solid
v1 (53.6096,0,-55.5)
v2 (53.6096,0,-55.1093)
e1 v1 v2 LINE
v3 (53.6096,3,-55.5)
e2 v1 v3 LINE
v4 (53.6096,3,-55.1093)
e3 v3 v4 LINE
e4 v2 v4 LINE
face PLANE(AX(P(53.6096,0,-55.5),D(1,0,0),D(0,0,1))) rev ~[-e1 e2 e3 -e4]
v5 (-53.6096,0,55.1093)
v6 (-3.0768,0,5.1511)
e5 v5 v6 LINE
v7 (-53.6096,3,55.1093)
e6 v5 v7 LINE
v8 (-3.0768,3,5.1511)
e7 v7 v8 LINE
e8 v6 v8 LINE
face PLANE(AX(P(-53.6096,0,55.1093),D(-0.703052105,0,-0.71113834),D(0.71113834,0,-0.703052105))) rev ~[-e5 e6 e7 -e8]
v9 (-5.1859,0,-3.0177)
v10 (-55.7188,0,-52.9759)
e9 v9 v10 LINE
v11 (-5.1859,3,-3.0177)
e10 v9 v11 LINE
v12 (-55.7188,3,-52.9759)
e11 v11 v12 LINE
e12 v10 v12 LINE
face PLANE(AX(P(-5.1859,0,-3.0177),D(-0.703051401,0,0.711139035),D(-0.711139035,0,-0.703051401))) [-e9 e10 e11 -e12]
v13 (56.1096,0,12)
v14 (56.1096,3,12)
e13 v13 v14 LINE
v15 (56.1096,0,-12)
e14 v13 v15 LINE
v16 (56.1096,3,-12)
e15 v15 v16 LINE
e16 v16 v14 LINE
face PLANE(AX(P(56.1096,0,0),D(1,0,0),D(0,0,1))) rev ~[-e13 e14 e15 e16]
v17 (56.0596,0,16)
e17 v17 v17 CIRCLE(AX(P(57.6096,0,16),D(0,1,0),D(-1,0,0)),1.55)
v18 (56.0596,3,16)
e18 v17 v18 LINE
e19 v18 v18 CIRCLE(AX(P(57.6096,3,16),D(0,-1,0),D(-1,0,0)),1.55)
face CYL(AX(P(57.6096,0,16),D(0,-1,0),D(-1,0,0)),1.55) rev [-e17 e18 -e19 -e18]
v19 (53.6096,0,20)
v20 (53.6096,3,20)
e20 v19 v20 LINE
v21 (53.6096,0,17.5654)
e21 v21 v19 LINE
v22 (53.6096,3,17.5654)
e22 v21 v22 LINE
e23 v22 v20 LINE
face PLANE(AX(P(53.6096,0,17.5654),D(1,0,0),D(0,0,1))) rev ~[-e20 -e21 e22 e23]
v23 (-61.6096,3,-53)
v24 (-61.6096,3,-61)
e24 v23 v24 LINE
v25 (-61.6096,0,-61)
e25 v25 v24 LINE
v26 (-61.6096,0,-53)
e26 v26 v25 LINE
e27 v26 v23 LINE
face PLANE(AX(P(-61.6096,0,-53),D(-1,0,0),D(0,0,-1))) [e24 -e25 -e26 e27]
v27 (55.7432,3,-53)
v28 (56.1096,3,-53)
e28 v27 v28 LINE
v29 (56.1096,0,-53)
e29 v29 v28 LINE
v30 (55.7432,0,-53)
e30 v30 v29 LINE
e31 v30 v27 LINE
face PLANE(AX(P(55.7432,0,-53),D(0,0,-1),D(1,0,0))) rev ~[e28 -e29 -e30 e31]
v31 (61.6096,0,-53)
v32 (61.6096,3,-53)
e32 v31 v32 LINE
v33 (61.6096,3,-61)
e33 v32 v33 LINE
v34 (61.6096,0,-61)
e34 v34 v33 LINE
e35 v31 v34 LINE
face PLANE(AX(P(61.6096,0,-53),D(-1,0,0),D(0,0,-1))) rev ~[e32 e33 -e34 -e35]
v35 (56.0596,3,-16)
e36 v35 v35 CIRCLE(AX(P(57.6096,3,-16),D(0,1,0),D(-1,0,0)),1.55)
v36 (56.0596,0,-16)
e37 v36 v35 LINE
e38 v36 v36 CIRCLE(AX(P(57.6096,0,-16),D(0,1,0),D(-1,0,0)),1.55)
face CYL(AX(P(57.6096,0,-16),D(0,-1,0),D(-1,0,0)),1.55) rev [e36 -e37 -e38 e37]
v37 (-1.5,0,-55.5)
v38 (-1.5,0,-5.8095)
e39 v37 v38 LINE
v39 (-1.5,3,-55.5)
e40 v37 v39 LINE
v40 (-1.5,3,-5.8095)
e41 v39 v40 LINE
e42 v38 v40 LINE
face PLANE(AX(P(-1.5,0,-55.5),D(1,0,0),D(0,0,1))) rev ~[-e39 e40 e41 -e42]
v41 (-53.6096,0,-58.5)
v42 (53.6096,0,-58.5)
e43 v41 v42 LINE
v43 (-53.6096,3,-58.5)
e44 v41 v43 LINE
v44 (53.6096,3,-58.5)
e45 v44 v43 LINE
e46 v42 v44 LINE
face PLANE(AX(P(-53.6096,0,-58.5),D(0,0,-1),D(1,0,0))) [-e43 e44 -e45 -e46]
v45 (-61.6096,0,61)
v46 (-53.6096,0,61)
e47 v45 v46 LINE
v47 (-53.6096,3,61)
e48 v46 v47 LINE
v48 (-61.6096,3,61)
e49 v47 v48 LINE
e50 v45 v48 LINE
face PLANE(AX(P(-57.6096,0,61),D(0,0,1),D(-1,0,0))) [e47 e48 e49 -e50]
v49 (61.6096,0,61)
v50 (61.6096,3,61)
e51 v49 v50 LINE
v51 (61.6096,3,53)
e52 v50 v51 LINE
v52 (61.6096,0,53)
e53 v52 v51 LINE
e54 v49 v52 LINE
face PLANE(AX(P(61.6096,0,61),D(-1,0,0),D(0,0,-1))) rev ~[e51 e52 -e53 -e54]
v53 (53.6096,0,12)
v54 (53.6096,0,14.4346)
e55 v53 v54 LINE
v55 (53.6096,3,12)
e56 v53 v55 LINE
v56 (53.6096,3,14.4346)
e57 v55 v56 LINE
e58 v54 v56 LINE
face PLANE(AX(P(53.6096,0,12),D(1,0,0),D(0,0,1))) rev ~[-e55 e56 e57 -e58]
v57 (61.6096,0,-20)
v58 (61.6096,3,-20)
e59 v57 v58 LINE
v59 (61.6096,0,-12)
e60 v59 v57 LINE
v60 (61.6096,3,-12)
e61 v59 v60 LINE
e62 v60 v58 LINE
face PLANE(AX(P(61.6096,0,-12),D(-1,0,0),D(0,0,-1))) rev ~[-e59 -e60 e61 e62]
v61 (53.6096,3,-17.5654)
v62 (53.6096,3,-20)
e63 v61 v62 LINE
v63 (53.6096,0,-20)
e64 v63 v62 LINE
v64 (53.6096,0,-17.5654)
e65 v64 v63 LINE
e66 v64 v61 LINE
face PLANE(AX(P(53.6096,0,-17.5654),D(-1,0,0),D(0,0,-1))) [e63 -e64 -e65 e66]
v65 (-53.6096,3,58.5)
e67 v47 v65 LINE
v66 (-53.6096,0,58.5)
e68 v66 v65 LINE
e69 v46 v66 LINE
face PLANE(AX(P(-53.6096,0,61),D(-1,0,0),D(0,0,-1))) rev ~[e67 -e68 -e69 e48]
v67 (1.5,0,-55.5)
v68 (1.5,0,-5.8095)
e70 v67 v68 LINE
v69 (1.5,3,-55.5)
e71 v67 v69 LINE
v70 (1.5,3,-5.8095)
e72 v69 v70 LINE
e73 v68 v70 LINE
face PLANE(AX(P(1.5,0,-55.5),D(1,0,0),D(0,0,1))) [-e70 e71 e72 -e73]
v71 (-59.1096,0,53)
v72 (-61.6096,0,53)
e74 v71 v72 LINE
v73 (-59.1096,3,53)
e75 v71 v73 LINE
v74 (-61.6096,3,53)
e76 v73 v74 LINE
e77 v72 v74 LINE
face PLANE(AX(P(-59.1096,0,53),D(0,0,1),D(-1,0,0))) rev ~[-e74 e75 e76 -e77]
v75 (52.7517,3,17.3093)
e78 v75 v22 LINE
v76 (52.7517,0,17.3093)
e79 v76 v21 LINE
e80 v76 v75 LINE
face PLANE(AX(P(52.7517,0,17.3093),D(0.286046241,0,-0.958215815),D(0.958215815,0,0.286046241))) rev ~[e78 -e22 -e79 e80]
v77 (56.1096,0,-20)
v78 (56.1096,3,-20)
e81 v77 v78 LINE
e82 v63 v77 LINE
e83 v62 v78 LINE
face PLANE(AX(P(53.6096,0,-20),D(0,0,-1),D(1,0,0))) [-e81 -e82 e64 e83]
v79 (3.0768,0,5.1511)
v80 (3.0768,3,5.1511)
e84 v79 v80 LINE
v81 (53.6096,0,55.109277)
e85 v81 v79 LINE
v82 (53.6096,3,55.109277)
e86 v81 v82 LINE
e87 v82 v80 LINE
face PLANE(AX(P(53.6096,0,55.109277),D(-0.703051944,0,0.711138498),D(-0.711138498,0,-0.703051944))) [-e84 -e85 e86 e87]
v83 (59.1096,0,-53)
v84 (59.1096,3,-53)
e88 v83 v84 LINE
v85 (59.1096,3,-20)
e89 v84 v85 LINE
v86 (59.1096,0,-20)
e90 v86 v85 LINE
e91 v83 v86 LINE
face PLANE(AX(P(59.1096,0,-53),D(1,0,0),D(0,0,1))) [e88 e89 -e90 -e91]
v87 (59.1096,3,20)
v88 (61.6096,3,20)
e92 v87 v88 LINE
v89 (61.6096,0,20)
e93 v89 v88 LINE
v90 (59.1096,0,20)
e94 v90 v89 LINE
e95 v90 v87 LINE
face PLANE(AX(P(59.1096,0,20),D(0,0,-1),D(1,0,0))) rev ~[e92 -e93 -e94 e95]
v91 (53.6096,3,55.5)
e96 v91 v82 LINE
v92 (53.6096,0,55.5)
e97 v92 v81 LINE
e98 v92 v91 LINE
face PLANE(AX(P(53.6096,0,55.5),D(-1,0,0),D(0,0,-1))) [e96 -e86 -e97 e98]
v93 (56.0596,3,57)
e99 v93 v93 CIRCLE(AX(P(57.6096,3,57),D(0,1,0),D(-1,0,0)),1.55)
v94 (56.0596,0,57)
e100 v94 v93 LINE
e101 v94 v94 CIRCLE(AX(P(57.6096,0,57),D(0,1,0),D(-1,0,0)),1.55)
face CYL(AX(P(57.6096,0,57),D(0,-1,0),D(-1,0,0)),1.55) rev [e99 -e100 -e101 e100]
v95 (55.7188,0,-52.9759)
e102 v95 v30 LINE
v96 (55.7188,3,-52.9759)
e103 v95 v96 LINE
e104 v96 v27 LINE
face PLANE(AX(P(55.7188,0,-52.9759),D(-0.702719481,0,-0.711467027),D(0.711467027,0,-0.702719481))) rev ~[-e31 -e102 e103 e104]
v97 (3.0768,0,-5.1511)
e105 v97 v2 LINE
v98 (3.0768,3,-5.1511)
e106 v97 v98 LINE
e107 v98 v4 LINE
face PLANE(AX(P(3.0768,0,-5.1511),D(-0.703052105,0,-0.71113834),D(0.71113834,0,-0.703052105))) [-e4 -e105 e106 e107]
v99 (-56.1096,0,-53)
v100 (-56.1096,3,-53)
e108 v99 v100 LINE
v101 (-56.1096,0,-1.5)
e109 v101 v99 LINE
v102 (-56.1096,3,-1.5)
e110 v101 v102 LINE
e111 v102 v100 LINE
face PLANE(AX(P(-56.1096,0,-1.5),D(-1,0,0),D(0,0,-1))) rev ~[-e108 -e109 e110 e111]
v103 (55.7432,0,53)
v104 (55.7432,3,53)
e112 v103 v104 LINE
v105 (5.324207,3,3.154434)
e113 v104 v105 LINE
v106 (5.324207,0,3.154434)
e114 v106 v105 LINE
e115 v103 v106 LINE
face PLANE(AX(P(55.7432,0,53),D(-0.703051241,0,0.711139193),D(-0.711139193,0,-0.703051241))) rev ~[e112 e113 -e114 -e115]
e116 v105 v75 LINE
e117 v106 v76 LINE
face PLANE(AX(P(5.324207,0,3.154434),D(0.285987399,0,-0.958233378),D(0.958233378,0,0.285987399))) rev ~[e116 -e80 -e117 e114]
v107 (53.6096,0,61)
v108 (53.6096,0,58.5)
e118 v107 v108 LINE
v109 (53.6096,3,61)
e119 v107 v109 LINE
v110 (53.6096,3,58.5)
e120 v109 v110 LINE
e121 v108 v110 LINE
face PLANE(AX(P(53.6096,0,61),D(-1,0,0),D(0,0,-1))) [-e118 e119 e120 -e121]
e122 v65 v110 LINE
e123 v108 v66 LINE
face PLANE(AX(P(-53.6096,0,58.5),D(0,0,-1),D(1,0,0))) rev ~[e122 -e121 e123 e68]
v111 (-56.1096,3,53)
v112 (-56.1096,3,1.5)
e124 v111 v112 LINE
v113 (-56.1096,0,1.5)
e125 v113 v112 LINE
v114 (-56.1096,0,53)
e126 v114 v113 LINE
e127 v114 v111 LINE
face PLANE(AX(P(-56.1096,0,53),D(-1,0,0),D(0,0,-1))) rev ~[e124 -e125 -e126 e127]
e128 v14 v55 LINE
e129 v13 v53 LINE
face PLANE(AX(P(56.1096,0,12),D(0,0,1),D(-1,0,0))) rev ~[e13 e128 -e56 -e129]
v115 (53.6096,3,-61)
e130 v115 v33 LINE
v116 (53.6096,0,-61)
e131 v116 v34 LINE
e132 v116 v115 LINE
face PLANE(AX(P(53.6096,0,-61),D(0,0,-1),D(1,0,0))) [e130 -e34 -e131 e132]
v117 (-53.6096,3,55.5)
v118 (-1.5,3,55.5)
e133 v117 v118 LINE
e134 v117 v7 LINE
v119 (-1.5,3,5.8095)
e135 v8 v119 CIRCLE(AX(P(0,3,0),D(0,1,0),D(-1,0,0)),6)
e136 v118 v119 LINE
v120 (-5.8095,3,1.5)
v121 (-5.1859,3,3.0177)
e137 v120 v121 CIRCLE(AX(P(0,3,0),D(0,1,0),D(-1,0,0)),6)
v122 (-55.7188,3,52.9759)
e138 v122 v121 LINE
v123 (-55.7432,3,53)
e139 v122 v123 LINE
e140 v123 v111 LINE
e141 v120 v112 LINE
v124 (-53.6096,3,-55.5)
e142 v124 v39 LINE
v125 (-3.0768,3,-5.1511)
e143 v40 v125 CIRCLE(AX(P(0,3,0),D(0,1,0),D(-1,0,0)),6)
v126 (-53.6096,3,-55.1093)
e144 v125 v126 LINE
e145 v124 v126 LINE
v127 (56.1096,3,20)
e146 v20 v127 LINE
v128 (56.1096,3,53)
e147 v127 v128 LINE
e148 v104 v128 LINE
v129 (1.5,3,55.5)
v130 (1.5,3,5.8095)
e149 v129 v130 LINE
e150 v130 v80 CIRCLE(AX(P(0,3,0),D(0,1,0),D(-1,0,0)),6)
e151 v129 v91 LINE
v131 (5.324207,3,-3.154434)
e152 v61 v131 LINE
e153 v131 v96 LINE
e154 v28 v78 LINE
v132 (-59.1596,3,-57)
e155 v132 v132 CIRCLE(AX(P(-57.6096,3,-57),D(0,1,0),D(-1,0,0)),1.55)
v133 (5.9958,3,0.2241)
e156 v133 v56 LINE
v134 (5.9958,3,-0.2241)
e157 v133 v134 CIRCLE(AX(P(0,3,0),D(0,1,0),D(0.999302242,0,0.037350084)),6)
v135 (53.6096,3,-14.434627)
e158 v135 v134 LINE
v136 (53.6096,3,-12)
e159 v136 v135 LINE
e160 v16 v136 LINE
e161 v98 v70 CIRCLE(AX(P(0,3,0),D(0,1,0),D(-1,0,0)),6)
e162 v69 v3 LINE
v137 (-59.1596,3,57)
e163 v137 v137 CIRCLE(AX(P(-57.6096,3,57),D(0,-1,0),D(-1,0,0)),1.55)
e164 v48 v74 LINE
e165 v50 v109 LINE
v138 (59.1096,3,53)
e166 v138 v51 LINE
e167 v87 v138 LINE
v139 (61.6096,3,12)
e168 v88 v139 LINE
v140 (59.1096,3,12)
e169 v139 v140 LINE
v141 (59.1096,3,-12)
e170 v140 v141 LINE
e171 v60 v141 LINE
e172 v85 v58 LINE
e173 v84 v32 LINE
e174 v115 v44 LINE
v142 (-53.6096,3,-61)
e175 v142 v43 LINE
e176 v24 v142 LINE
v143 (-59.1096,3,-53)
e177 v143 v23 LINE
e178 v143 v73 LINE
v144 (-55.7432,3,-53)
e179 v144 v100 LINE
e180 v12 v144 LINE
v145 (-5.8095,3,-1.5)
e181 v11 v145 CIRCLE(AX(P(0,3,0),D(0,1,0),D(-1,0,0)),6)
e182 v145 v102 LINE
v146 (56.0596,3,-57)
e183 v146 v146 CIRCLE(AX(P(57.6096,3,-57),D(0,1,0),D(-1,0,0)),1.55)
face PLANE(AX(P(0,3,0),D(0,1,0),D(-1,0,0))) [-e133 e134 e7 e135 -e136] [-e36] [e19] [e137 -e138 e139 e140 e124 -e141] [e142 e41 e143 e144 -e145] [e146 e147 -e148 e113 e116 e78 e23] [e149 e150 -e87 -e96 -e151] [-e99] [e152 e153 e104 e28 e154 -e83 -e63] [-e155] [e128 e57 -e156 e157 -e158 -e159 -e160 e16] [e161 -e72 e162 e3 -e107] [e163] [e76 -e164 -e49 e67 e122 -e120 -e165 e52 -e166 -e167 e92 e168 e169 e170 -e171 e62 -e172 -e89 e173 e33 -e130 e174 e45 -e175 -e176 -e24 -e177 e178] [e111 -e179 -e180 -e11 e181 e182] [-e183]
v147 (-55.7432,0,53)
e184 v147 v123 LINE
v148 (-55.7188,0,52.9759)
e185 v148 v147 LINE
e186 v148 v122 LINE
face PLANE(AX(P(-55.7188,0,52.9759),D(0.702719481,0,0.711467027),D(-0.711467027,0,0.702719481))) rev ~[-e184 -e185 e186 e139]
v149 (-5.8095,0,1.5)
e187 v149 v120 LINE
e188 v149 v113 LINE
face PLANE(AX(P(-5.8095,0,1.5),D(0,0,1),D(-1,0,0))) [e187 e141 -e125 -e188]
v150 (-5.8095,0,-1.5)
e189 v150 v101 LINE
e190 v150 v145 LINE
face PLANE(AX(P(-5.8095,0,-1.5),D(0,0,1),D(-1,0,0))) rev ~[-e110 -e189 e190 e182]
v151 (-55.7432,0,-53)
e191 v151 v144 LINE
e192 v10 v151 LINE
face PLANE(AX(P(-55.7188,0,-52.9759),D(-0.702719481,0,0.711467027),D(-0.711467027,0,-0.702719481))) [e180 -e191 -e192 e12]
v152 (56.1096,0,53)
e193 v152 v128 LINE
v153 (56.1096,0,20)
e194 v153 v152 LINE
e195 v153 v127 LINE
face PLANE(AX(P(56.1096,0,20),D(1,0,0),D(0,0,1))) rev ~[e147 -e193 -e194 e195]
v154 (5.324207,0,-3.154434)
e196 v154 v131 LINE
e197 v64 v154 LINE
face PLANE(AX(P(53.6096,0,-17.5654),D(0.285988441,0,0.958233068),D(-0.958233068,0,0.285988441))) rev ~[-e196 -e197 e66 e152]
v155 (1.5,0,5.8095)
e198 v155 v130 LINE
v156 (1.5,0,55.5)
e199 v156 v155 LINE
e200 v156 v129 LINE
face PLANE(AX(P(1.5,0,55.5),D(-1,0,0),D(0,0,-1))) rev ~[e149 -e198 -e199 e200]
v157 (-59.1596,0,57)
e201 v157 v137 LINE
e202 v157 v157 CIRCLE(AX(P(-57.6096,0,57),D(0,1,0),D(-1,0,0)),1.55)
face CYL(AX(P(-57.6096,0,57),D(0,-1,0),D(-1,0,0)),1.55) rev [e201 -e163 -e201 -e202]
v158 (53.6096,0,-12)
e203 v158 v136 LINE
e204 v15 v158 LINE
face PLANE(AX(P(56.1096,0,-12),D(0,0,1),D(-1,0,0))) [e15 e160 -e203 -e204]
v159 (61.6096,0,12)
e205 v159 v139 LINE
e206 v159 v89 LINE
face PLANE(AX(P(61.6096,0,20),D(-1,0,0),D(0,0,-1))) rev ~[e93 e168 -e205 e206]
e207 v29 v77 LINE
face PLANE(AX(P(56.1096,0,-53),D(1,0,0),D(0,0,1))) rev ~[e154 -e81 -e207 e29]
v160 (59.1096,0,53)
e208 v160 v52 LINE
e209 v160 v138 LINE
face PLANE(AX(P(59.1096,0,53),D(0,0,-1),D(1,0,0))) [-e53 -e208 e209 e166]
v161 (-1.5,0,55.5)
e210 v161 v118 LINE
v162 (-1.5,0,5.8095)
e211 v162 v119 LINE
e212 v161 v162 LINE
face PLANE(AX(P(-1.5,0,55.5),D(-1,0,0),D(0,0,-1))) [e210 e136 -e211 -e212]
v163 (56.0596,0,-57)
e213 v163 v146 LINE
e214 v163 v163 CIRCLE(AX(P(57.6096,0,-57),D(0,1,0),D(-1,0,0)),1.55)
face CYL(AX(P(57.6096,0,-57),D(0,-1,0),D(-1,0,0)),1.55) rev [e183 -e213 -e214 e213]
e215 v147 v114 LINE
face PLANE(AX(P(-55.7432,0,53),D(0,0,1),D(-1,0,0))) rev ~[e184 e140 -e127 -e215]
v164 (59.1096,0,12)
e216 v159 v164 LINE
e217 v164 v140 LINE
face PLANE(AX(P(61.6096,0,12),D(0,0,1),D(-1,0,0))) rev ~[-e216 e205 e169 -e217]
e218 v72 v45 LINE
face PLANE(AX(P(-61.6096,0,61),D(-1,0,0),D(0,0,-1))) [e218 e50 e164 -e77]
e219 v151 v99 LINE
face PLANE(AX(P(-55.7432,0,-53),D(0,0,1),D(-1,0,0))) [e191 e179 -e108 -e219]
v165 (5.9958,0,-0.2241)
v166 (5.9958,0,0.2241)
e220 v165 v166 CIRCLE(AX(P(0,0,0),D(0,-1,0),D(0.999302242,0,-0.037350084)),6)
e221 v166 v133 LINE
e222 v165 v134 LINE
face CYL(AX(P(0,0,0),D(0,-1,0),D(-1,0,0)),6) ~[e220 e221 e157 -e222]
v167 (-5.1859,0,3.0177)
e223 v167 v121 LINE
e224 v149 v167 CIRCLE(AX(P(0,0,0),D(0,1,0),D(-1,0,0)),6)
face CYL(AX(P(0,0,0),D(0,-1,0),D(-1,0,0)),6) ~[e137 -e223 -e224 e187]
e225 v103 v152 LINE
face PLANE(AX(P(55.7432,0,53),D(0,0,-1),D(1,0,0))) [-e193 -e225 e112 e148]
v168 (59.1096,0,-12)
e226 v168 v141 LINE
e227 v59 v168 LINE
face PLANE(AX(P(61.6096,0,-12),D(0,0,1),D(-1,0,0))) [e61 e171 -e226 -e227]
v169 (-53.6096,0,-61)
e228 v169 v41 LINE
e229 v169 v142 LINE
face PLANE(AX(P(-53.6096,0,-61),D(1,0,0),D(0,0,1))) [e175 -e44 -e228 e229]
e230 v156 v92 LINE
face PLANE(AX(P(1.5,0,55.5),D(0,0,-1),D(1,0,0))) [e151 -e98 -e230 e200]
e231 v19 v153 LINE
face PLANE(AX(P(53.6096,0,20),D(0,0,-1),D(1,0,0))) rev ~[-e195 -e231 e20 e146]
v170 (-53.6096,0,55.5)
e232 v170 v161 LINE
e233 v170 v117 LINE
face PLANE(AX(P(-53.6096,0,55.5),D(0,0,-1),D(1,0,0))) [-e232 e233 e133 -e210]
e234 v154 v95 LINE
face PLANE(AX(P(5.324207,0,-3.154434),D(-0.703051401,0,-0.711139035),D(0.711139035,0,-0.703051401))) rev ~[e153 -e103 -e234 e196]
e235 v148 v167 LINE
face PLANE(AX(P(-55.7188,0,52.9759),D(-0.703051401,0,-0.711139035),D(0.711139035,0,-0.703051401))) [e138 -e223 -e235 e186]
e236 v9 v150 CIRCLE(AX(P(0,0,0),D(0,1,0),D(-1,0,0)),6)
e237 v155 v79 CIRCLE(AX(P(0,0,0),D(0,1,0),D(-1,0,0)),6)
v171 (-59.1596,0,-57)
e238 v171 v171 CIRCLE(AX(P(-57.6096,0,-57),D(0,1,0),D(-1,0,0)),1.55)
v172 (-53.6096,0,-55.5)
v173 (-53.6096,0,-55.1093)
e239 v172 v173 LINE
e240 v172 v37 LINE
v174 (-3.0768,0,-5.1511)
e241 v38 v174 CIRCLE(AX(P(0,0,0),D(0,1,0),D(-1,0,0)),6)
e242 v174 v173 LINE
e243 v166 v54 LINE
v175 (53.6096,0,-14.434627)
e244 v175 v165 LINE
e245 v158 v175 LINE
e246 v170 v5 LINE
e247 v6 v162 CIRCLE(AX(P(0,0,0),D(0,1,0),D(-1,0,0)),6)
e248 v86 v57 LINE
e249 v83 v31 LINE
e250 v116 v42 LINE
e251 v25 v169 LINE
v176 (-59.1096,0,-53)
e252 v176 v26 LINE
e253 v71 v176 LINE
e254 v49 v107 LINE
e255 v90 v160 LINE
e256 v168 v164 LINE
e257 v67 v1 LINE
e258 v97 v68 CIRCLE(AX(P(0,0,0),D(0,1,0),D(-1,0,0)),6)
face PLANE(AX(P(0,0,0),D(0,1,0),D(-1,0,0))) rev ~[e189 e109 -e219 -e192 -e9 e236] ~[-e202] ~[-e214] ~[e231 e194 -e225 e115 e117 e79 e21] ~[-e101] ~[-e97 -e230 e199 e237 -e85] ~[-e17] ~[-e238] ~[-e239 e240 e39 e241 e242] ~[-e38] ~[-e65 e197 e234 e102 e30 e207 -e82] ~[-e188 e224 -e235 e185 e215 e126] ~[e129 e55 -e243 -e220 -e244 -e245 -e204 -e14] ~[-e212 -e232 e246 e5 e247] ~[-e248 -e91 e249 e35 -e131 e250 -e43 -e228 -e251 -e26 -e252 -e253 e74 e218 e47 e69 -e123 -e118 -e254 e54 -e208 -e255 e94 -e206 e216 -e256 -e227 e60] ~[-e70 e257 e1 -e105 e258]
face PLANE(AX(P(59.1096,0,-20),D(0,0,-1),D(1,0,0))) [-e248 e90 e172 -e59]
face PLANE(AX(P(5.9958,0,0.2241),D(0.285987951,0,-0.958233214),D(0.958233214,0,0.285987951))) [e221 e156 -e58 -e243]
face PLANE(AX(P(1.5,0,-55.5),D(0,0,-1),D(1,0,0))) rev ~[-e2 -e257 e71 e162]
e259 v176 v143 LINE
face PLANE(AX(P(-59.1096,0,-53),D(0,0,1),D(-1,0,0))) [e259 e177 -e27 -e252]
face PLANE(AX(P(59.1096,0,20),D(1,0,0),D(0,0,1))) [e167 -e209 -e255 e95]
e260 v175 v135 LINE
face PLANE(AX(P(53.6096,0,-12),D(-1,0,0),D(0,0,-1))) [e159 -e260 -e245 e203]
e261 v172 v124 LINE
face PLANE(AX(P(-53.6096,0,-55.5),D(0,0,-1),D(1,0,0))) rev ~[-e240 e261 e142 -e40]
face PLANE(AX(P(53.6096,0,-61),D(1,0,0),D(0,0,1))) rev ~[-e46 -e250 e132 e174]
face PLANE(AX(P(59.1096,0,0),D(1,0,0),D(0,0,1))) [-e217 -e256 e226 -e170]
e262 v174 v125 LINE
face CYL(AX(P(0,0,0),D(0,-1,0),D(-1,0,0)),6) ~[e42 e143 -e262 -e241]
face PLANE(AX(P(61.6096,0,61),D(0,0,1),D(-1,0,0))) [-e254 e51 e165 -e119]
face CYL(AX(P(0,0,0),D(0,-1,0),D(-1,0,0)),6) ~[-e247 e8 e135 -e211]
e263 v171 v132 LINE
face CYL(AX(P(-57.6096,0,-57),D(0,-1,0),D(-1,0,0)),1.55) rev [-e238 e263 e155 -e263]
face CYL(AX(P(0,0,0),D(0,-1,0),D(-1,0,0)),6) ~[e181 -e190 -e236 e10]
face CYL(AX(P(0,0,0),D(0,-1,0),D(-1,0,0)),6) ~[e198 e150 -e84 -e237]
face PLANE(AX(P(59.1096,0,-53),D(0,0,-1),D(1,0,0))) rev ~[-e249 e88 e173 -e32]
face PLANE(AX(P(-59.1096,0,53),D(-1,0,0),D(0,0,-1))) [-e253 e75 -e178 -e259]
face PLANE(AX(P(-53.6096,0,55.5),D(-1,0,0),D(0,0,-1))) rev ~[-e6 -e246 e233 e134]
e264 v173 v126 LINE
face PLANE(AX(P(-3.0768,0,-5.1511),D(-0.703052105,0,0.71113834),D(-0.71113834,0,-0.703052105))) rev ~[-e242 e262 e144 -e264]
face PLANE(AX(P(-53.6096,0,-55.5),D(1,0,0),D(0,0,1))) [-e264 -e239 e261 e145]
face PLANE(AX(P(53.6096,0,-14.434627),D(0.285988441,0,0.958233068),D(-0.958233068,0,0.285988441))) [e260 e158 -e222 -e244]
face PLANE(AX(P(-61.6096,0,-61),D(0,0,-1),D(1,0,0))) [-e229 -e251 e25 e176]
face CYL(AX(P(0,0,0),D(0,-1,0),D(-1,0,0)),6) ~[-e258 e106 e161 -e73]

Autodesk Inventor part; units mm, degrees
ref_plane "YZ Plane" through (0, 0, 0) normal (1, 0, 0) x (0, 1, 0)
ref_plane "XZ Plane" through (0, 0, 0) normal (0, 1, 0) x (-1, 0, 0)
ref_plane "XY Plane" through (0, 0, 0) normal (0, 0, 1) x (1, 0, 0)
sketch "Sketch1" plane through (0, 0, 0) normal (0, 1, 0) x (-1, 0, 0)
  line L0 (75, 65) -> (-75, 65)
  line L1 (-75, 65) -> (-75, -65)
  line L2 (-75, -65) -> (75, -65)
  line L3 (75, -65) -> (75, 65)
  line L4 (75, 65) -> (-75, -65) construction
  line L5 (-75, 65) -> (75, -65) construction
  line L6 (62.0096, 65) -> (62.0096, -65)
  line L7 (105, 0) -> (-105, 0) projected
  line L8 (0, -91) -> (0, 91) projected
  line L9 (-62.0096, 65) -> (-62.0096, -65)
  line L10 (61.6096, 65) -> (61.6096, -65)
  line L11 (-61.6096, 65) -> (-61.6096, -65)
  line L12 (-71, 61) -> (71, 61)
  line L13 (71, 61) -> (71, -61)
  line L14 (71, -61) -> (-71, -61)
  line L15 (-71, -61) -> (-71, 61)
  line L16 (61.6096, 61) -> (53.6096, 61)
  line L17 (53.6096, 61) -> (53.6096, 53)
  line L18 (53.6096, 53) -> (61.6096, 53)
  line L19 (61.6096, 53) -> (61.6096, 61)
  line L20 (61.6096, -61) -> (53.6096, -61)
  line L21 (53.6096, -61) -> (53.6096, -53)
  line L22 (53.6096, -53) -> (61.6096, -53)
  line L23 (-61.6096, 61) -> (-53.6096, 61)
  line L24 (-53.6096, 61) -> (-53.6096, 53)
  line L25 (-53.6096, 53) -> (-61.6096, 53)
  line L26 (-61.6096, 53) -> (-61.6096, 61)
  line L27 (-53.6096, -61) -> (-53.6096, -53)
  line L28 (-53.6096, -53) -> (-61.6096, -53)
  line L29 (-61.6096, -61) -> (-53.6096, -61)
  line L30 (-61.6096, 12) -> (-53.6096, 12)
  line L31 (-53.6096, 12) -> (-53.6096, 20)
  line L32 (-53.6096, 20) -> (-61.6096, 20)
  line L33 (-61.6096, 20) -> (-61.6096, 12)
  line L34 (-61.6096, -12) -> (-53.6096, -12)
  line L35 (-53.6096, -12) -> (-53.6096, -20)
  line L36 (-53.6096, -20) -> (-61.6096, -20)
  circle A0 centre (57.6096, 57) radius 1.55
  line L37 (61.6096, 57) -> (53.6096, 57)
  line L38 (57.6096, 61) -> (57.6096, 53)
  circle A1 centre (57.6096, -57) radius 1.55
  circle A2 centre (-57.6096, 57) radius 1.55
  circle A3 centre (-57.6096, -57) radius 1.55
  line L39 (-53.6096, 16) -> (-61.6096, 16)
  line L40 (-57.6096, 20) -> (-57.6096, 12)
  circle A4 centre (-57.6096, 16) radius 1.55
  circle A5 centre (-57.6096, -16) radius 1.55
  line L41 (53.6096, 57) -> (-53.6096, 57)
  line L42 (57.6096, 53) -> (57.6096, -53)
  line L43 (53.6096, -57) -> (-53.6096, -57)
  line L44 (-57.6096, -53) -> (-57.6096, -20)
  line L45 (-57.6096, -12) -> (-57.6096, 12)
  line L46 (-57.6096, 20) -> (-57.6096, 53)
  line L47 (53.6096, 53) -> (-53.6096, -53)
  line L48 (-53.6096, 53) -> (53.6096, -53)
  line L49 (0, 0) -> (57.6096, 0)
  line L50 (0, 0) -> (-57.6096, 0)
  line L51 (0, 0) -> (-53.6096, 16)
  line L52 (0, 0) -> (-53.6096, -16)
  circle A6 centre (0, 0) radius 6
  line L53 (53.6096, 55.1093) -> (3.0768, 5.1511)
  line L54 (53.6096, 58.5) -> (-53.6096, 58.5)
  line L55 (59.1096, 53) -> (59.1096, -53)
  line L56 (53.6096, -58.5) -> (-53.6096, -58.5)
  line L57 (-59.1096, -53) -> (-59.1096, -20)
  line L58 (-59.1096, -12) -> (-59.1096, 12)
  line L59 (-59.1096, 20) -> (-59.1096, 53)
  line L60 (-55.7432, 53) -> (-5.1859, 3.0177)
  line L61 (-5.9958, 0.2241) -> (-53.6096, 14.4346)
  line L62 (-53.6096, -17.5654) -> (-5.1378, -3.0988)
  line L63 (-3.0768, -5.1511) -> (-53.6096, -55.1093)
  line L64 (5.8095, -1.5) -> (57.6096, -1.5)
  line L65 (56.1096, 53) -> (56.1096, -53)
  line L66 (53.6096, 55.5) -> (-53.6096, 55.5)
  line L67 (55.7188, 52.9759) -> (5.1859, 3.0177)
  line L68 (5.8095, 1.5) -> (57.6096, 1.5)
  line L69 (-53.634, 55.1334) -> (-3.0768, 5.1511)
  line L70 (-5.1378, 3.0988) -> (-52.7517, 17.3093)
  line L71 (-5.1859, -3.0177) -> (-55.7188, -52.9759)
  line L72 (53.6096, -55.5) -> (-53.6096, -55.5)
  line L73 (-56.1096, -53) -> (-56.1096, -20)
  line L74 (-56.1096, -12) -> (-56.1096, 12)
  line L75 (-56.1096, 20) -> (-56.1096, 53)
  line L76 (-54.4676, -14.6907) -> (-5.9958, -0.2241)
  line L77 (3.0768, -5.1511) -> (53.6096, -55.1093)
  line L78 (5.1859, -3.0177) -> (55.7188, -52.9759)
  line L79 (1.5, 55.5) -> (1.5, 5.8095)
  line L80 (-1.5, 55.5) -> (-1.5, 5.8095)
  line L81 (1.5, -55.5) -> (1.5, -5.8095)
  line L82 (-1.5, -55.5) -> (-1.5, -5.8095)
  line L83 (-52.7517, 17.3093) -> (-53.6096, 17.5654)
  line L84 (55.7188, -52.9759) -> (55.7432, -53)
  line L85 (55.7188, 52.9759) -> (55.7432, 53)
  line L86 (-55.7188, -52.9759) -> (-55.7432, -53)
  point P0 (-61.6096, 61)
  point P1 (-61.6096, 0)
  point P2 (-71, 0)
  point P3 (4.2668, -4.2183)
  point P4 (56.1096, -1.5)
  point P5 (-4.2668, -4.2183)
  point P6 (-56.1096, -20)
  point P7 (1.5, -5.8095)
  point P8 (-1.5, -5.8095)
  point P9 (-1.5, 5.8095)
  point P10 (-3.0768, 5.1511)
  point P11 (-53.6096, 55.1093)
  point P12 (56.1096, 1.5)
  point P13 (4.2668, 4.2183)
  point P14 (-53.6096, -14.4346)
  point P15 (-5.7494, 1.7159)
  point P16 (-61.6096, -61)
  point P17 (61.6096, -61)
  point P18 (-5.3243, -3.1544)
  point P19 (5.1859, 3.0177)
  point P20 (-5.3243, 3.1544)
  dimension "d13" = 12
  dimension "d0" = 150
  dimension "d1" = 130
  dimension "d2" = 12.9904
  dimension "d3" = 0.4
  dimension "d4" = 4
  dimension "d5" = 8
  dimension "d6" = 8
  dimension "d7" = 8
  dimension "d8" = 8
  dimension "d9" = 12
  dimension "d10" = 3.1
  dimension "d11" = 3.1
  dimension "d14" = 3
  dimension "d15" = 3
  dimension "d16" = 3
  dimension "d17" = 3
  dimension "d18" = 3
  dimension "d19" = 3
  dimension "d20" = 3
  dimension "d21" = 3
  dimension "d22" = 3
  dimension "d23" = 3
  dimension "d24" = 3
  dimension "d25" = 3
extrude "Extrusion1" add sketch "Sketch1" along normal blind 3 contours L10 L37 A0 L38 L12 | L10 L18 L38 A0 L37 | L38 A0 L37 L17 L12 | L12 L24 L25 L11 | L54 L17 L41 L8 | L8 L41 L24 L54 | L14 L21 L22 L10 | L55 L22 L42 L7 | L7 L42 L18 L55 | L41 L17 L66 L8 | L8 L66 L24 L41 | L38 L18 L17 L37 A0 | L42 L64 L65 L7 | L7 L65 L68 L42 | L32 L40 A4 L39 L11 | L25 L46 L32 L59 | L66 L79 A6 L8 | L8 A6 L80 L66 | L42 L68 L65 L18 | L56 L8 L43 L21 | L65 L64 A6 L7 | L7 A6 L68 L65 | L42 L22 L65 L64 | L11 L28 L27 L14 | L56 L27 L43 L8 | L39 A4 L40 L30 L11 | L25 L75 L32 L46 | A6 L47 L8 | L8 L48 A6 | L43 L8 L72 L21 | A6 L48 L7 | L7 L47 A6 | L43 L27 L72 L8 | L58 L30 L45 L7 | L7 L45 L34 L58 | L34 L35 L36 L11 | L32 L31 L39 A4 L40 | L52 A6 L7 | L48 A6 L8 | L8 A6 L47 | L51 A6 L48 | L7 A6 L51 | L47 A6 L52 | L17 L47 A6 L53 | L69 A6 L48 L24 | L85 L67 A6 L47 L18 | L22 L48 A6 L78 L84 | L57 L36 L44 L28 | L72 L82 A6 L8 | L8 A6 L81 L72 | L45 L30 L74 L7 | L7 L74 L34 L45 | A4 L39 L31 L30 L40 | L25 L48 A6 L70 L60 | A6 L63 L27 L47 | L47 L28 L86 L71 L62 A6 | L48 L21 L77 A6 | A6 L61 L31 L51 | L51 L31 L83 L70 L60 A6 | A6 L71 L62 L35 L52 | L52 L35 L76 A6 | L44 L36 L73 L28 | L70 A6 L60 | L62 L71 A6
equation "\"d0\" = BodyLength"
equation "\"d1\" = BodyWidth"
equation "\"d2\" = 0.433013 * BodyHeight"
equation "\"d4\" = SideThickness"
equation "\"d5\" = M3ScrewInsertBrim"
equation "\"d6\" = M3ScrewInsertBrim"
equation "\"d7\" = M3ScrewInsertBrim"
equation "\"d8\" = M3ScrewInsertBrim"
equation "\"d10\" = M3ScrewDia"
equation "\"d11\" = M3ScrewDia"
equation "\"BodyLength\" = 150"
equation "\"BodyWidth\" = 130"
equation "\"BodyHeight\" = 30"
equation "\"SideThickness\" = 4"
equation "\"M3ScrewInsertBrim\" = 8"
equation "\"M3ScrewDia\" = 3.1"
properties part number "HexScrewGuide"
